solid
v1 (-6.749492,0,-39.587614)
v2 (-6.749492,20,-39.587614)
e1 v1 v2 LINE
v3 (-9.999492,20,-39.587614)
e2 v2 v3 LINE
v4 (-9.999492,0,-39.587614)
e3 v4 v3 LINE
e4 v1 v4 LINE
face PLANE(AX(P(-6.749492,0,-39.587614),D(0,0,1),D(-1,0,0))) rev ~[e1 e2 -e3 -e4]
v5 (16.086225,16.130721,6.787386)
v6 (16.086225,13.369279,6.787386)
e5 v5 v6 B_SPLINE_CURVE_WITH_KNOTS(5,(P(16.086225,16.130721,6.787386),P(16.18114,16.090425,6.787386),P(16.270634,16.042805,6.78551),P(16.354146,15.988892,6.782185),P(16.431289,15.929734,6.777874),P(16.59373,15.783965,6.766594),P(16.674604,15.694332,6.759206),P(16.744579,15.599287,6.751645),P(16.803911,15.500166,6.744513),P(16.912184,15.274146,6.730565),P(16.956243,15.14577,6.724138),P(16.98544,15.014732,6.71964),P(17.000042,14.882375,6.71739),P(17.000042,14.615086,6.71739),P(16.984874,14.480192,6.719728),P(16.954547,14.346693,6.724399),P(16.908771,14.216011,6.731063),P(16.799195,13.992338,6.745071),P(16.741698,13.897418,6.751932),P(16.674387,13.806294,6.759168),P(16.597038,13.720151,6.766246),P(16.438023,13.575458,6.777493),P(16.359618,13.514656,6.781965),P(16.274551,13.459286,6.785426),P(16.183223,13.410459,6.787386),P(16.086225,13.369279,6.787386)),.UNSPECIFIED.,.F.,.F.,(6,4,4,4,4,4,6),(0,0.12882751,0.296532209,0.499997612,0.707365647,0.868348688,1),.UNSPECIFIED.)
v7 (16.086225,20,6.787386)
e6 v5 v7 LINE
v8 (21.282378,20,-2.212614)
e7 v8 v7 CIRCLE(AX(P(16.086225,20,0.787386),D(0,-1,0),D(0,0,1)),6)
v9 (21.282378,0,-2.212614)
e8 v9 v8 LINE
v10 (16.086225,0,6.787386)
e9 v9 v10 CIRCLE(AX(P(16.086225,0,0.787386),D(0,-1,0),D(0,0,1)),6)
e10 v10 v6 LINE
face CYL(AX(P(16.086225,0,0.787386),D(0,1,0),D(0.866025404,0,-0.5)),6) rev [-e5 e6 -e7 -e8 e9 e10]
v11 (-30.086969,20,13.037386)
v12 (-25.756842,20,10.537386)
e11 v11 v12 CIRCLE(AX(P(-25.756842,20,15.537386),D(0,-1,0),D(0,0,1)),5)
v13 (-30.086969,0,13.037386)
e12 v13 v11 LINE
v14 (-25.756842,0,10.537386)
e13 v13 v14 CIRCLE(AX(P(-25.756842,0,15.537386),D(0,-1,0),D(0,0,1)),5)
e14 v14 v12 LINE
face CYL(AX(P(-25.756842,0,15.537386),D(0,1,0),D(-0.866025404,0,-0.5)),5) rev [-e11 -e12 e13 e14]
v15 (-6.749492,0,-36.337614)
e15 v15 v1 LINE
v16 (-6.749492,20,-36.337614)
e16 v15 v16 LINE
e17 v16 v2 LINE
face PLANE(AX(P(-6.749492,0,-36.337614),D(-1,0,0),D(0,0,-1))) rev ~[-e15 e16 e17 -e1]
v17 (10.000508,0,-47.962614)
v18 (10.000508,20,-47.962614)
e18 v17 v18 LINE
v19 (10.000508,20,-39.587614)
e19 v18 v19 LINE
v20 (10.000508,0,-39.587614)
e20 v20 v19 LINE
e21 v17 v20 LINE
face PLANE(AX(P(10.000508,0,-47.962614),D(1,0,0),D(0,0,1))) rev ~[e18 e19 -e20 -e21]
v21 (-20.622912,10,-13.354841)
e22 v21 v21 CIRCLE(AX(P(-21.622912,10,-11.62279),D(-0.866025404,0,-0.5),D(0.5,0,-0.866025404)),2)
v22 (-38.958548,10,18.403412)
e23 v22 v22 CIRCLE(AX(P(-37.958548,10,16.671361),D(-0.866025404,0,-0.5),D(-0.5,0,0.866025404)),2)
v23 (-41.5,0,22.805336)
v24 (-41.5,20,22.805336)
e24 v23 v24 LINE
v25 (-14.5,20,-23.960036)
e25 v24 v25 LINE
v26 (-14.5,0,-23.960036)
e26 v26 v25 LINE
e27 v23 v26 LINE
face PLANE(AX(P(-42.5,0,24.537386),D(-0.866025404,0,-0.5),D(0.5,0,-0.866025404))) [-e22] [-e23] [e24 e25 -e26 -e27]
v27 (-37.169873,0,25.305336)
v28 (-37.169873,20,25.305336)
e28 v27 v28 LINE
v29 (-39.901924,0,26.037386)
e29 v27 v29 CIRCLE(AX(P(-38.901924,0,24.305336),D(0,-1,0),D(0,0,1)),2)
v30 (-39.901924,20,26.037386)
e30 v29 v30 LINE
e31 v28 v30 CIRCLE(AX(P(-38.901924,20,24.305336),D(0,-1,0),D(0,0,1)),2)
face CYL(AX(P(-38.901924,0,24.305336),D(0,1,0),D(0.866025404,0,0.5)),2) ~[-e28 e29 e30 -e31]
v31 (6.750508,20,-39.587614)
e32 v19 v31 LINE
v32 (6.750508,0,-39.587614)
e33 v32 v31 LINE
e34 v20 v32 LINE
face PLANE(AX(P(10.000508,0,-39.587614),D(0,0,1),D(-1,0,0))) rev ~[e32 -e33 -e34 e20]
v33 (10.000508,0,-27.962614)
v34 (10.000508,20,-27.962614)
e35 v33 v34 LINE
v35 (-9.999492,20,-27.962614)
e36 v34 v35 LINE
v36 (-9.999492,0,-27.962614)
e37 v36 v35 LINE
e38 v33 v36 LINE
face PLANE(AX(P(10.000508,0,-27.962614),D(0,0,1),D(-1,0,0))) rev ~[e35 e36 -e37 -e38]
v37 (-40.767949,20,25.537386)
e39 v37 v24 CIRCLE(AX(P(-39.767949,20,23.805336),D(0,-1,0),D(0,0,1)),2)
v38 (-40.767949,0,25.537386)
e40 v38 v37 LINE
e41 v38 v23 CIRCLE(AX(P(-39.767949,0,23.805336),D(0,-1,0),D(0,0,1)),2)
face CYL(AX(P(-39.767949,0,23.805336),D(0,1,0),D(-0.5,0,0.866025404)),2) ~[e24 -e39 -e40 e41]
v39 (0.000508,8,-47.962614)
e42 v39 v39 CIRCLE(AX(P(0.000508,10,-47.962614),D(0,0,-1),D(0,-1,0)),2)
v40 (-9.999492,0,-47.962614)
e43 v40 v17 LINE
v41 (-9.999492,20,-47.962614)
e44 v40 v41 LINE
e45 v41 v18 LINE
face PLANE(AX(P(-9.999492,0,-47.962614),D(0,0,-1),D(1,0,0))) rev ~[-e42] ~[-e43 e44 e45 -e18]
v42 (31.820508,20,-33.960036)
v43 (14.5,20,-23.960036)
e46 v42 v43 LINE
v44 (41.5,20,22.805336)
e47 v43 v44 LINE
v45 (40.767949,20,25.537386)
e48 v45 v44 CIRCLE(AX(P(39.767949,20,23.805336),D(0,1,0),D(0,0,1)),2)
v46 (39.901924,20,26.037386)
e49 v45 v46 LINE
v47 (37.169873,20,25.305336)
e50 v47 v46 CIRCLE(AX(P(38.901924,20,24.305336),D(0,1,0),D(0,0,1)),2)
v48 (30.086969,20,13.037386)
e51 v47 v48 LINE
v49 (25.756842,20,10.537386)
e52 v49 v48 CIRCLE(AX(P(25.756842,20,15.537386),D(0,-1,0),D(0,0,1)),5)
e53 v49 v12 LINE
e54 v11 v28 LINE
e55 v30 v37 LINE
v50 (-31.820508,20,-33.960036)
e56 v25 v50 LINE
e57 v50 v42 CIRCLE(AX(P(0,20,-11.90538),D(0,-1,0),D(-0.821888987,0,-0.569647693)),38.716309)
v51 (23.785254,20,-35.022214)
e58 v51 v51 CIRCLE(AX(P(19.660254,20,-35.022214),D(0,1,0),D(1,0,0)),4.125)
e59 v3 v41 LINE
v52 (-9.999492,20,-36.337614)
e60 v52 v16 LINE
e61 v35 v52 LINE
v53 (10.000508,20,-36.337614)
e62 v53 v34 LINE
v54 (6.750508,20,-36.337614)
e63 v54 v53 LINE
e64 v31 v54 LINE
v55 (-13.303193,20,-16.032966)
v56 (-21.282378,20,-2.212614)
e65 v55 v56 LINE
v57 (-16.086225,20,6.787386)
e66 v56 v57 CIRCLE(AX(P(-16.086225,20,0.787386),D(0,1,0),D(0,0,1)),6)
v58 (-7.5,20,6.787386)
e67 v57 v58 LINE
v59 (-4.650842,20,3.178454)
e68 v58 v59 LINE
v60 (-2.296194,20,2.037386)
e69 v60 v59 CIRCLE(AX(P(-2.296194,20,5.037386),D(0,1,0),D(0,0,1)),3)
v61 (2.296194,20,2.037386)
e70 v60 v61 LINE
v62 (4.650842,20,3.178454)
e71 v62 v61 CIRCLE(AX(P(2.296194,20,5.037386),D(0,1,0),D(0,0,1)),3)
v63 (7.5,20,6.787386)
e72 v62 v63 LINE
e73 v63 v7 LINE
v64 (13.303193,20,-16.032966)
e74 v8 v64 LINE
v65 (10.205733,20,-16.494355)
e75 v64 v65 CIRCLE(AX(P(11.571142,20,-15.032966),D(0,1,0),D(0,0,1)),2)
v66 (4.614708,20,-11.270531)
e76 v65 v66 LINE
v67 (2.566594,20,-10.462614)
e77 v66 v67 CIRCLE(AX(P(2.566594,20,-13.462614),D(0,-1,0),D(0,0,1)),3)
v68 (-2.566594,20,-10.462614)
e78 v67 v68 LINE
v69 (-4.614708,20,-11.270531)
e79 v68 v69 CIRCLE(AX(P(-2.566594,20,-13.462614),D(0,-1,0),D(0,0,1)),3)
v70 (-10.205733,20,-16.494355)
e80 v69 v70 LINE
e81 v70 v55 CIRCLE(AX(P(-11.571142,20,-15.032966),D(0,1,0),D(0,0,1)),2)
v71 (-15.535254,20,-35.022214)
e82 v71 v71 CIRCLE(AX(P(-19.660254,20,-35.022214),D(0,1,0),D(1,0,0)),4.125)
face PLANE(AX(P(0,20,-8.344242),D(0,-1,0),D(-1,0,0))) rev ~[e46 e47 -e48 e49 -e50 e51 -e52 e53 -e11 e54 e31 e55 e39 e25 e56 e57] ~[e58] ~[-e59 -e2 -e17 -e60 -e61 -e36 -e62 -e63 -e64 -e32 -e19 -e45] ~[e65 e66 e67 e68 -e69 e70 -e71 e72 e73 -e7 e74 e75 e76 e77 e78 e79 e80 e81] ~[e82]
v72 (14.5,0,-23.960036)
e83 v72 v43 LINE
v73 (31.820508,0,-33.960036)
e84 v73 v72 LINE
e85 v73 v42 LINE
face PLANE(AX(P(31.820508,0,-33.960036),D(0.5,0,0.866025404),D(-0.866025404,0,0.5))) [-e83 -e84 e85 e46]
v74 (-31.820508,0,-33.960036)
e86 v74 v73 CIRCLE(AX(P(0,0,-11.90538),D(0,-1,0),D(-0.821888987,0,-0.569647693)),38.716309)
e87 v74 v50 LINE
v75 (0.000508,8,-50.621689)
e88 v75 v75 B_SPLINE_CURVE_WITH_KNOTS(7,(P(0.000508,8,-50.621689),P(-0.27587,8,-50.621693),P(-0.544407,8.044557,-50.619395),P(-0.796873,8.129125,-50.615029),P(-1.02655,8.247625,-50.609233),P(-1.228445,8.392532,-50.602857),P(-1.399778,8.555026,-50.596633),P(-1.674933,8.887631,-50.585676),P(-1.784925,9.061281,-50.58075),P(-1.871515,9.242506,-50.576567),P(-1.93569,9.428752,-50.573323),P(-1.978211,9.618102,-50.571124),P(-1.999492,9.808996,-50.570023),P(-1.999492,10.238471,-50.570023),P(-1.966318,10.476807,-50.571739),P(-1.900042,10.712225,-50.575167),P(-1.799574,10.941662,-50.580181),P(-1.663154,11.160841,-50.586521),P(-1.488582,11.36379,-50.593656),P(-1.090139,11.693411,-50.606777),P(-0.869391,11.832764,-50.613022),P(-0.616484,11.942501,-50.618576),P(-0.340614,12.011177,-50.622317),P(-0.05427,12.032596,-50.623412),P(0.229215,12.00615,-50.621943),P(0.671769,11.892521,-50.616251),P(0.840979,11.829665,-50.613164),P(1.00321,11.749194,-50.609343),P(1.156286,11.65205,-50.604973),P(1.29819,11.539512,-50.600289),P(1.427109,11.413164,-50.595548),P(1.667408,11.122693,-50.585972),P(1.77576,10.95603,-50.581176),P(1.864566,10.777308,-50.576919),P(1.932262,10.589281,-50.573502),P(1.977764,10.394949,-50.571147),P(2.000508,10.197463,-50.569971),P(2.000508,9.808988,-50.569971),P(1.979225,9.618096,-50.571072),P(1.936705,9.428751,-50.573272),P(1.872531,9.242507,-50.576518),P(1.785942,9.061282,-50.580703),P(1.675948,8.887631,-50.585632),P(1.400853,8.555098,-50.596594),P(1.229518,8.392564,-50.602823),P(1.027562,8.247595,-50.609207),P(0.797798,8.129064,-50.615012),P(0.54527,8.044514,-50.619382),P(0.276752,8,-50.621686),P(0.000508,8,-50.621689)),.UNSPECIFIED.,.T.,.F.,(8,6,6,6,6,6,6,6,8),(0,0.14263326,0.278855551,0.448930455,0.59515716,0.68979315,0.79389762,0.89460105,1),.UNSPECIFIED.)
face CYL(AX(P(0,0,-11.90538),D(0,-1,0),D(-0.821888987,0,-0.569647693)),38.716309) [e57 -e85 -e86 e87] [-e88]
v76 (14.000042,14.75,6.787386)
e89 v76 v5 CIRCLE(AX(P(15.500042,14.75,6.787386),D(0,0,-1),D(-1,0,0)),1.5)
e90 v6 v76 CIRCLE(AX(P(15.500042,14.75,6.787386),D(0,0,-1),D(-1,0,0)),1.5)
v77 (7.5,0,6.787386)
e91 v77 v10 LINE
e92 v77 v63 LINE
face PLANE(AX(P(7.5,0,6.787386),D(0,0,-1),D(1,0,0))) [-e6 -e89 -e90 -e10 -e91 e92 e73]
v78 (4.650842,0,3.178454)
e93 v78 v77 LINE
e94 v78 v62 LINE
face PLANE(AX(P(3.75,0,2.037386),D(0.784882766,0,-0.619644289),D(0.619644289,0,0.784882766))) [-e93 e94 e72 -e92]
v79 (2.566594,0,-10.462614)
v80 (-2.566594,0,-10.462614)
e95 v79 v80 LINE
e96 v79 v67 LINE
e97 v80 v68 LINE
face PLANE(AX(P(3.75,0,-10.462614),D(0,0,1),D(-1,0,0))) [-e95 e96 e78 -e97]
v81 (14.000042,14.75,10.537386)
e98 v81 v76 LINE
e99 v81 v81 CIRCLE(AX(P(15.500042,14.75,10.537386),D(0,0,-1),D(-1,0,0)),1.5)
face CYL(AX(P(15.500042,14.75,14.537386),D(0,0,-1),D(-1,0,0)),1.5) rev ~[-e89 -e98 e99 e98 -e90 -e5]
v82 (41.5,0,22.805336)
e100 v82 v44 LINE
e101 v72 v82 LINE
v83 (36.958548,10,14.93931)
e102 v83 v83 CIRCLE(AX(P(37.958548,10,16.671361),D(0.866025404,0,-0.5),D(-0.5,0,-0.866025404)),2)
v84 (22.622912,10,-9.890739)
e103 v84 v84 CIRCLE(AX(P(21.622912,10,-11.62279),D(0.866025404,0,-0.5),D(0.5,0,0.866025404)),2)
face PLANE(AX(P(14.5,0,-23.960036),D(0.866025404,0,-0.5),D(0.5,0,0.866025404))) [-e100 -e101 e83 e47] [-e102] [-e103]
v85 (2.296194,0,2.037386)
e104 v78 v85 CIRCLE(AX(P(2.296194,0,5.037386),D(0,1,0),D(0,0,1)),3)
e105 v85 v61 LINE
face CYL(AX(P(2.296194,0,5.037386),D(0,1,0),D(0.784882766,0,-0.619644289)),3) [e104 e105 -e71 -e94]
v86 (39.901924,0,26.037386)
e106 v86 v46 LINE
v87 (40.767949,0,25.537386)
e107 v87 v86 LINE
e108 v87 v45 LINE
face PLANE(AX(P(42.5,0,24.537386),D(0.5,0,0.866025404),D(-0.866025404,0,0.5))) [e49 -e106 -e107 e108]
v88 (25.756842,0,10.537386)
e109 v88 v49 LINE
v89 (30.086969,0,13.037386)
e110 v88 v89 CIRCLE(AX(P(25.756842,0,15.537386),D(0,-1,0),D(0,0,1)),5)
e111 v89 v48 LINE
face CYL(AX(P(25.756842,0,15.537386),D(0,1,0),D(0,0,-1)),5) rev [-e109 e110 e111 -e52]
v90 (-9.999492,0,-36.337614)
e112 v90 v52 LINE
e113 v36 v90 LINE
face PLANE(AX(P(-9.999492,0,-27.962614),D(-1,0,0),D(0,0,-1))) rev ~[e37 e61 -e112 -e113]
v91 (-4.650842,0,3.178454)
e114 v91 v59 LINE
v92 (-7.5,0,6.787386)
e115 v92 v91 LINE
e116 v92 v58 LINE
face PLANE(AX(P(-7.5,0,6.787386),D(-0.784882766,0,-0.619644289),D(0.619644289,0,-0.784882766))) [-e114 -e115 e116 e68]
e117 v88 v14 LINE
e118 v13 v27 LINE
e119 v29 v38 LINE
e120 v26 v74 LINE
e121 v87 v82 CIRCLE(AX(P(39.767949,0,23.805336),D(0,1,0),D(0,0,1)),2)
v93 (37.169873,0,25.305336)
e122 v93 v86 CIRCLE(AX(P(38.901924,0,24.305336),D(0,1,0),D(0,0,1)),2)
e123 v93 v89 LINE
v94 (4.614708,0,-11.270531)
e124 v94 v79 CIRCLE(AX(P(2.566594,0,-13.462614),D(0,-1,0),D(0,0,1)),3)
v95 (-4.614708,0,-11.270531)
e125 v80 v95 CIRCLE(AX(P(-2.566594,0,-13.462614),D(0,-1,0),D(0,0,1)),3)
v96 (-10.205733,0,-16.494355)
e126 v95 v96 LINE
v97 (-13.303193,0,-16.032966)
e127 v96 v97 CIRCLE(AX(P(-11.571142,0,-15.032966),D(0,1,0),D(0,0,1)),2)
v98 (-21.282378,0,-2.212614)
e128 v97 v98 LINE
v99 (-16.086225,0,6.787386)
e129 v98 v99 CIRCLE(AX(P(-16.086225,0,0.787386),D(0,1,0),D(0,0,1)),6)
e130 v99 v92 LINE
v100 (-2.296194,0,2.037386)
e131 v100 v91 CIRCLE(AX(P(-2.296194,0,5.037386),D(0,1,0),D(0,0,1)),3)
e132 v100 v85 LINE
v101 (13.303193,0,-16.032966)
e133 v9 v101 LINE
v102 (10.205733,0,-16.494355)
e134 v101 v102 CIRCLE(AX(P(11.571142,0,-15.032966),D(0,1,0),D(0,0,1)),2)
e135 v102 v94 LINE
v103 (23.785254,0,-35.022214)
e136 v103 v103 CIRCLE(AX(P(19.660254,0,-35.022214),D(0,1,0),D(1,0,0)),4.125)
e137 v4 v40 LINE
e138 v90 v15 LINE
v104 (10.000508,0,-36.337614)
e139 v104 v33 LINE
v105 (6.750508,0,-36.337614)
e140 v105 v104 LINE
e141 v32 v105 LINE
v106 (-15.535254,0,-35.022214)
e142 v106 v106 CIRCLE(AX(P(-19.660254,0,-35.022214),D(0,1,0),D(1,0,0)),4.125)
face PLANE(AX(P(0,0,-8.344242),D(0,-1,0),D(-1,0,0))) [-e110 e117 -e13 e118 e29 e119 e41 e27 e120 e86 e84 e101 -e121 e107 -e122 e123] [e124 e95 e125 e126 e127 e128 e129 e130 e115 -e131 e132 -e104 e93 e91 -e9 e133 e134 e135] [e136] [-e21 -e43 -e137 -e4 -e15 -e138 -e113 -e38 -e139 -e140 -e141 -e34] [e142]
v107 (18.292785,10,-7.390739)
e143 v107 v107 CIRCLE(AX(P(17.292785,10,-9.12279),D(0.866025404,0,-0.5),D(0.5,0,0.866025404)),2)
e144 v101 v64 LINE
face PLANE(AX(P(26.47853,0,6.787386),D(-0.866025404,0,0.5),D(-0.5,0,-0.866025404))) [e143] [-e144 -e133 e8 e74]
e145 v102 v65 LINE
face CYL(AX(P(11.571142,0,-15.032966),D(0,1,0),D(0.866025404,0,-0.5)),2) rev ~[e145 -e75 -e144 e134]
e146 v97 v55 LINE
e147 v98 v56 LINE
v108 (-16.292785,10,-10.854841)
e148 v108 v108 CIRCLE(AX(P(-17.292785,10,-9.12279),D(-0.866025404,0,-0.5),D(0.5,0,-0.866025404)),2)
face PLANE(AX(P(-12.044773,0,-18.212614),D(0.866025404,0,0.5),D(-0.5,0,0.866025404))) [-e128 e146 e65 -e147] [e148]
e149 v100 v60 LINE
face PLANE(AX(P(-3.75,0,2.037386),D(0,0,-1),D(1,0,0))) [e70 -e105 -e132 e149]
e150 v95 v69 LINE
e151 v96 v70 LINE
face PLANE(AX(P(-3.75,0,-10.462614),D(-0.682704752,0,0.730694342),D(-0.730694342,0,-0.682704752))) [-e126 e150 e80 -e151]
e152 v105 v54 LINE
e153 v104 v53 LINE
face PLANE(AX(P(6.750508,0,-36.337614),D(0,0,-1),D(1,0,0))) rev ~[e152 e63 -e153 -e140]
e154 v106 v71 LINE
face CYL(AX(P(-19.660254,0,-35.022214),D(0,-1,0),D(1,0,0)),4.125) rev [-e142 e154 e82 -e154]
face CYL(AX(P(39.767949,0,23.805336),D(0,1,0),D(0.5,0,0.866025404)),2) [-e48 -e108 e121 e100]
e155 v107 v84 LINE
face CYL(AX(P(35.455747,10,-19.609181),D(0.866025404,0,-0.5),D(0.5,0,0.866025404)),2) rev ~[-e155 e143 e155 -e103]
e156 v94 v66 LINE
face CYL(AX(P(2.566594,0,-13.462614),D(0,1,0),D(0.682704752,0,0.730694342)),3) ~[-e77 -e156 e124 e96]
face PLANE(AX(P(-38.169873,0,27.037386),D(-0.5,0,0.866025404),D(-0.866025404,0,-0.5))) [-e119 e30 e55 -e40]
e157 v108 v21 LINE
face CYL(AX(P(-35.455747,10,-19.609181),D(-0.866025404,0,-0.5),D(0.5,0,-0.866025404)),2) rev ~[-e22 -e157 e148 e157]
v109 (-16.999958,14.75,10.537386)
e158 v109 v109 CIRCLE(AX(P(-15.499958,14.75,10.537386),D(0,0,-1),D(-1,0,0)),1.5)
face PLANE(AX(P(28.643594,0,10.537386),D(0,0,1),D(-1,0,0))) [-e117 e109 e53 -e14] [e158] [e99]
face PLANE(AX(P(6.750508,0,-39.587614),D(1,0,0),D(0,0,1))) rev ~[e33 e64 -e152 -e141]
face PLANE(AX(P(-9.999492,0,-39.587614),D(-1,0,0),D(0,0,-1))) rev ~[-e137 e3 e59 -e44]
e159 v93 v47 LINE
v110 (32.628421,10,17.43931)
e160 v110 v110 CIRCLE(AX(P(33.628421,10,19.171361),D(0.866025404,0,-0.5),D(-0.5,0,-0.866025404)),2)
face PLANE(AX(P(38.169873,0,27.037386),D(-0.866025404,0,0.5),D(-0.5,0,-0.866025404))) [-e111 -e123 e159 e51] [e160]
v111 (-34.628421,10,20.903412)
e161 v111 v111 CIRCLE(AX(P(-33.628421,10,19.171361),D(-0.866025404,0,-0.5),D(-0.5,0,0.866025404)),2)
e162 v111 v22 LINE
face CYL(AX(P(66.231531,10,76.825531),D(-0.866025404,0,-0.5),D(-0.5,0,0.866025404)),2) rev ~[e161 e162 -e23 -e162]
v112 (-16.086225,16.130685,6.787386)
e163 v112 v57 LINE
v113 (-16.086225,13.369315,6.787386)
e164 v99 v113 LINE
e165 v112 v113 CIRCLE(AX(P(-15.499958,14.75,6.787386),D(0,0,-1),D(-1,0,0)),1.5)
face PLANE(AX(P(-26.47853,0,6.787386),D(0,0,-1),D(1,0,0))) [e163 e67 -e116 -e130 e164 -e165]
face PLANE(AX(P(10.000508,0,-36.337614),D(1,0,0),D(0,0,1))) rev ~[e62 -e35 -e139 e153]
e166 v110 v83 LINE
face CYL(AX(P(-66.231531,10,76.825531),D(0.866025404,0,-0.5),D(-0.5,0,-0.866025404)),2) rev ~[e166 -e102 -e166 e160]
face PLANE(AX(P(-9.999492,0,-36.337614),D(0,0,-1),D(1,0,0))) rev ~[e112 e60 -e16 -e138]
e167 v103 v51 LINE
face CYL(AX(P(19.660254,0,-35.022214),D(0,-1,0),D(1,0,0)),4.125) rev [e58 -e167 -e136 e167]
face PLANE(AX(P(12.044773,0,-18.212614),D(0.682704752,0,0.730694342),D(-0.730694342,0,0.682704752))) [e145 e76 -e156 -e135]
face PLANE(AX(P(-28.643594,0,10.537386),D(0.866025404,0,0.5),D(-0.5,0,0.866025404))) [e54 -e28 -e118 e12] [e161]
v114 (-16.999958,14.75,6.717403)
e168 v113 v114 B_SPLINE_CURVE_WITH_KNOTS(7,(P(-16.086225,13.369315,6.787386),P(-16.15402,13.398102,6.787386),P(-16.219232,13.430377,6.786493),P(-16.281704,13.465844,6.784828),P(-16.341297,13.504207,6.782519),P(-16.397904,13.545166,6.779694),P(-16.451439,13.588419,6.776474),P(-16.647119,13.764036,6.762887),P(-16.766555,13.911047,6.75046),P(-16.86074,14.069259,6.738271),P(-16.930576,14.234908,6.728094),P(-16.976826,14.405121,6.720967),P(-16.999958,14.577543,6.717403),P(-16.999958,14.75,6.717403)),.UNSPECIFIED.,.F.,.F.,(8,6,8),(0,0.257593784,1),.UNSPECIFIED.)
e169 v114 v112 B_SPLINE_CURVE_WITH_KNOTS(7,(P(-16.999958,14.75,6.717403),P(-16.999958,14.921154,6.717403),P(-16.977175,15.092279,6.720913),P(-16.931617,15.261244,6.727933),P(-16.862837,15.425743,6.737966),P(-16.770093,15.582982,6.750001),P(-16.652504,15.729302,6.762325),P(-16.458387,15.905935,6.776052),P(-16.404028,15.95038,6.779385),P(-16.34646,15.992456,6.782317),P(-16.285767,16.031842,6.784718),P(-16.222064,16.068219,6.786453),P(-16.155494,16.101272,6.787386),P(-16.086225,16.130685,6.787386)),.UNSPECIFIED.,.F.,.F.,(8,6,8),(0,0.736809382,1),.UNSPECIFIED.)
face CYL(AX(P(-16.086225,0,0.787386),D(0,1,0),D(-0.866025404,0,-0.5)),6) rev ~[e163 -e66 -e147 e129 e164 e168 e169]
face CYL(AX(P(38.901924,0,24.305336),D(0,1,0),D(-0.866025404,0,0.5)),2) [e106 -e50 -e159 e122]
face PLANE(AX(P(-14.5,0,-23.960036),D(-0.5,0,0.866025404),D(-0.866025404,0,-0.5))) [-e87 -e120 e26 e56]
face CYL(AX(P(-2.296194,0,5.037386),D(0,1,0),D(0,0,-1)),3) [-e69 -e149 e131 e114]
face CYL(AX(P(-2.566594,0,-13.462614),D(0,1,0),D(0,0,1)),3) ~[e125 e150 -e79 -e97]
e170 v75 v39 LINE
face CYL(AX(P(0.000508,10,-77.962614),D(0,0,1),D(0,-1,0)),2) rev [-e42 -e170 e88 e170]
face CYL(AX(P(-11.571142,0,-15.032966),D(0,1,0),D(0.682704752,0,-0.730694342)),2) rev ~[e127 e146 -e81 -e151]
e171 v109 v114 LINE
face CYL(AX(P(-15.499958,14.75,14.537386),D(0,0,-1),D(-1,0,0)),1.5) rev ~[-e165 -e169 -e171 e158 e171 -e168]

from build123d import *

# Parameters (mm, degrees)
SKETCH1_R                      = 4.125
BOSS_EXTRUDE1_DEPTH            = 20
FILLET2_R                      = 5
FILLET3_R                      = 5
FILLET4_R                      = 6
FILLET5_R                      = 6
FILLET6_R                      = 2
FILLET7_R                      = 3
FILLET10_R                     = 2
F_8_0_199_DIAMETER_HOLE2_D     = 4
F_8_0_199_DIAMETER_HOLE3_D     = 4
SKETCH12_W                     = 2
SKETCH12_H                     = 41.945563192
SKETCH16_W                     = 2
SKETCH16_H                     = 41.945563192
F_8_0_199_DIAMETER_HOLE8_D     = 3.000000096
F_8_0_199_DIAMETER_HOLE8_DEPTH = 4
F_8_0_199_DIAMETER_HOLE8_TIP   = 0.901290957


with BuildPart() as part:
    # Sketch1 → Boss-Extrude1 (new body)
    with BuildSketch(Plane(origin=(0, 0, 0), x_dir=(1, 0, 0), z_dir=(0, 1, 0))):
        with BuildLine():
            Line((-28.643593539, -10.537386441), (-38.169872981, -27.037386441))
            Line((-38.169872981, -27.037386441), (-42.5, -24.537386441))
            Line((-42.5, -24.537386441), (-14.5, 23.960036171))
            Line((-14.5, 23.960036171), (-31.820508076, 33.960036171))
            ThreePointArc((-31.820508076, 33.960036171), (0, 50.621689136), (31.820508076, 33.960036171))
            Line((31.820508076, 33.960036171), (14.5, 23.960036171))
            Line((14.5, 23.960036171), (42.5, -24.537386441))
            Line((42.5, -24.537386441), (38.169872981, -27.037386441))
            Line((38.169872981, -27.037386441), (28.643593539, -10.537386441))
            Line((28.643593539, -10.537386441), (-28.643593539, -10.537386441))
        make_face()
        with Locations((19.660254038, 35.022213998)):
            Circle(SKETCH1_R, mode=Mode.SUBTRACT)
        with Locations((-19.660254038, 35.022213998)):
            Circle(SKETCH1_R, mode=Mode.SUBTRACT)
        Polygon((-12.0447733, 18.212613559), (-26.47853003, -6.787386441), (-7.5, -6.787386441), (-3.75, -2.037386441), (3.75, -2.037386441), (7.5, -6.787386441), (26.47853003, -6.787386441), (12.0447733, 18.212613559), (3.75, 10.462613559), (-3.75, 10.462613559), align=None, mode=Mode.SUBTRACT)
        Polygon((-9.999491924, 47.962613559), (10.000508076, 47.962613559), (10.000508076, 39.587613559), (6.750508076, 39.587613559), (6.750508076, 36.337613559), (10.000508076, 36.337613559), (10.000508076, 27.962613559), (-9.999491924, 27.962613559), (-9.999491924, 36.337613559), (-6.749491924, 36.337613559), (-6.749491924, 39.587613559), (-9.999491924, 39.587613559), align=None, mode=Mode.SUBTRACT)
    extrude(amount=BOSS_EXTRUDE1_DEPTH)

    # Fillet2
    fillet2_edges = [part.edges().sort_by_distance(p)[0] for p in [
        (-28.643593539, 10, 10.537386441),
    ]]
    fillet(fillet2_edges, radius=FILLET2_R)

    # Fillet3
    fillet3_edges = [part.edges().sort_by_distance(p)[0] for p in [
        (28.643593539, 10, 10.537386441),
    ]]
    fillet(fillet3_edges, radius=FILLET3_R)

    # Fillet4
    fillet4_edges = [part.edges().sort_by_distance(p)[0] for p in [
        (-26.47853003, 10, 6.787386441),
    ]]
    fillet(fillet4_edges, radius=FILLET4_R)

    # Fillet5
    fillet5_edges = [part.edges().sort_by_distance(p)[0] for p in [
        (26.47853003, 10, 6.787386441),
    ]]
    fillet(fillet5_edges, radius=FILLET5_R)

    # Fillet6
    fillet6_edges = [part.edges().sort_by_distance(p)[0] for p in [
        (-12.0447733, 10, -18.212613559),
        (12.0447733, 10, -18.212613559),
    ]]
    fillet(fillet6_edges, radius=FILLET6_R)

    # Fillet7
    fillet7_edges = [part.edges().sort_by_distance(p)[0] for p in [
        (-3.75, 10, -10.462613559),
        (-3.75, 10, 2.037386441),
        (3.75, 10, 2.037386441),
        (3.75, 10, -10.462613559),
    ]]
    fillet(fillet7_edges, radius=FILLET7_R)

    # Fillet10
    fillet10_edges = [part.edges().sort_by_distance(p)[0] for p in [
        (-38.169872981, 10, 27.037386441),
        (-42.5, 10, 24.537386441),
        (42.5, 10, 24.537386441),
        (38.169872981, 10, 27.037386441),
    ]]
    fillet(fillet10_edges, radius=FILLET10_R)

    # #8 (0.199) Diameter Hole2 (through all)
    with Locations(Plane(origin=(16.919872981, 0, -9.76869322), x_dir=(0.5, 0, 0.866025404), z_dir=(-0.866025404, 0, 0.5))):
        with Locations((33.417096231, 10)):
            Hole(F_8_0_199_DIAMETER_HOLE2_D / 2)

    # #8 (0.199) Diameter Hole3 (through all)
    with Locations(Plane(origin=(-16.919872981, 0, -9.76869322), x_dir=(0.5, 0, -0.866025404), z_dir=(0.866025404, 0, 0.5))):
        with Locations((-33.417096231, 10)):
            Hole(F_8_0_199_DIAMETER_HOLE3_D / 2)

    # Sketch12 → #8 (0.199) Diameter Hole5 (revolve, cut)
    with BuildSketch(Plane(origin=(17.292785365, 10, -9.122790024), x_dir=(0.5, 0, 0.866025404), z_dir=(0, 1, 0))):
        with Locations((1, 20.972781596)):
            Rectangle(SKETCH12_W, SKETCH12_H)
    revolve(axis=Axis((11.793524051, 10, -5.947790024), (0.866025404, 0, -0.5)), mode=Mode.SUBTRACT)

    # Sketch16 → #8 (0.199) Diameter Hole6 (revolve, cut)
    with BuildSketch(Plane(origin=(-17.292785365, 10, -9.122790024), x_dir=(0.5, 0, -0.866025404), z_dir=(0, 1, 0))):
        with Locations((1, 20.972781596)):
            Rectangle(SKETCH16_W, SKETCH16_H)
    revolve(axis=Axis((-11.793524051, 10, -5.947790024), (-0.866025404, 0, -0.5)), mode=Mode.SUBTRACT)

    # Sketch18 → #8 (0.199) Diameter Hole7 (revolve, cut)
    with BuildSketch(Plane(origin=(0.000508076, 10, -47.962613559), x_dir=(0, -1, 0), z_dir=(1, 0, 0))):
        Polygon((0, 0), (0, 31.2017212), (1.999999937, 30), (1.999999937, 0), align=None)
    revolve(axis=Axis((0.000508076, 10, -41.612613559), (0, 0, -1)), mode=Mode.SUBTRACT)

    # #8 (0.199) Diameter Hole8
    with Locations(Plane.XY.offset(10.537386441)):
        with Locations((-15.499957804, 14.75), (15.500042196, 14.75)):
            Hole(F_8_0_199_DIAMETER_HOLE8_D / 2, depth=F_8_0_199_DIAMETER_HOLE8_DEPTH)
            with Locations((0, 0, -(F_8_0_199_DIAMETER_HOLE8_DEPTH + F_8_0_199_DIAMETER_HOLE8_TIP / 2))):  # 118° drill point
                Cone(0, F_8_0_199_DIAMETER_HOLE8_D / 2, F_8_0_199_DIAMETER_HOLE8_TIP, mode=Mode.SUBTRACT)


solid = part.part
